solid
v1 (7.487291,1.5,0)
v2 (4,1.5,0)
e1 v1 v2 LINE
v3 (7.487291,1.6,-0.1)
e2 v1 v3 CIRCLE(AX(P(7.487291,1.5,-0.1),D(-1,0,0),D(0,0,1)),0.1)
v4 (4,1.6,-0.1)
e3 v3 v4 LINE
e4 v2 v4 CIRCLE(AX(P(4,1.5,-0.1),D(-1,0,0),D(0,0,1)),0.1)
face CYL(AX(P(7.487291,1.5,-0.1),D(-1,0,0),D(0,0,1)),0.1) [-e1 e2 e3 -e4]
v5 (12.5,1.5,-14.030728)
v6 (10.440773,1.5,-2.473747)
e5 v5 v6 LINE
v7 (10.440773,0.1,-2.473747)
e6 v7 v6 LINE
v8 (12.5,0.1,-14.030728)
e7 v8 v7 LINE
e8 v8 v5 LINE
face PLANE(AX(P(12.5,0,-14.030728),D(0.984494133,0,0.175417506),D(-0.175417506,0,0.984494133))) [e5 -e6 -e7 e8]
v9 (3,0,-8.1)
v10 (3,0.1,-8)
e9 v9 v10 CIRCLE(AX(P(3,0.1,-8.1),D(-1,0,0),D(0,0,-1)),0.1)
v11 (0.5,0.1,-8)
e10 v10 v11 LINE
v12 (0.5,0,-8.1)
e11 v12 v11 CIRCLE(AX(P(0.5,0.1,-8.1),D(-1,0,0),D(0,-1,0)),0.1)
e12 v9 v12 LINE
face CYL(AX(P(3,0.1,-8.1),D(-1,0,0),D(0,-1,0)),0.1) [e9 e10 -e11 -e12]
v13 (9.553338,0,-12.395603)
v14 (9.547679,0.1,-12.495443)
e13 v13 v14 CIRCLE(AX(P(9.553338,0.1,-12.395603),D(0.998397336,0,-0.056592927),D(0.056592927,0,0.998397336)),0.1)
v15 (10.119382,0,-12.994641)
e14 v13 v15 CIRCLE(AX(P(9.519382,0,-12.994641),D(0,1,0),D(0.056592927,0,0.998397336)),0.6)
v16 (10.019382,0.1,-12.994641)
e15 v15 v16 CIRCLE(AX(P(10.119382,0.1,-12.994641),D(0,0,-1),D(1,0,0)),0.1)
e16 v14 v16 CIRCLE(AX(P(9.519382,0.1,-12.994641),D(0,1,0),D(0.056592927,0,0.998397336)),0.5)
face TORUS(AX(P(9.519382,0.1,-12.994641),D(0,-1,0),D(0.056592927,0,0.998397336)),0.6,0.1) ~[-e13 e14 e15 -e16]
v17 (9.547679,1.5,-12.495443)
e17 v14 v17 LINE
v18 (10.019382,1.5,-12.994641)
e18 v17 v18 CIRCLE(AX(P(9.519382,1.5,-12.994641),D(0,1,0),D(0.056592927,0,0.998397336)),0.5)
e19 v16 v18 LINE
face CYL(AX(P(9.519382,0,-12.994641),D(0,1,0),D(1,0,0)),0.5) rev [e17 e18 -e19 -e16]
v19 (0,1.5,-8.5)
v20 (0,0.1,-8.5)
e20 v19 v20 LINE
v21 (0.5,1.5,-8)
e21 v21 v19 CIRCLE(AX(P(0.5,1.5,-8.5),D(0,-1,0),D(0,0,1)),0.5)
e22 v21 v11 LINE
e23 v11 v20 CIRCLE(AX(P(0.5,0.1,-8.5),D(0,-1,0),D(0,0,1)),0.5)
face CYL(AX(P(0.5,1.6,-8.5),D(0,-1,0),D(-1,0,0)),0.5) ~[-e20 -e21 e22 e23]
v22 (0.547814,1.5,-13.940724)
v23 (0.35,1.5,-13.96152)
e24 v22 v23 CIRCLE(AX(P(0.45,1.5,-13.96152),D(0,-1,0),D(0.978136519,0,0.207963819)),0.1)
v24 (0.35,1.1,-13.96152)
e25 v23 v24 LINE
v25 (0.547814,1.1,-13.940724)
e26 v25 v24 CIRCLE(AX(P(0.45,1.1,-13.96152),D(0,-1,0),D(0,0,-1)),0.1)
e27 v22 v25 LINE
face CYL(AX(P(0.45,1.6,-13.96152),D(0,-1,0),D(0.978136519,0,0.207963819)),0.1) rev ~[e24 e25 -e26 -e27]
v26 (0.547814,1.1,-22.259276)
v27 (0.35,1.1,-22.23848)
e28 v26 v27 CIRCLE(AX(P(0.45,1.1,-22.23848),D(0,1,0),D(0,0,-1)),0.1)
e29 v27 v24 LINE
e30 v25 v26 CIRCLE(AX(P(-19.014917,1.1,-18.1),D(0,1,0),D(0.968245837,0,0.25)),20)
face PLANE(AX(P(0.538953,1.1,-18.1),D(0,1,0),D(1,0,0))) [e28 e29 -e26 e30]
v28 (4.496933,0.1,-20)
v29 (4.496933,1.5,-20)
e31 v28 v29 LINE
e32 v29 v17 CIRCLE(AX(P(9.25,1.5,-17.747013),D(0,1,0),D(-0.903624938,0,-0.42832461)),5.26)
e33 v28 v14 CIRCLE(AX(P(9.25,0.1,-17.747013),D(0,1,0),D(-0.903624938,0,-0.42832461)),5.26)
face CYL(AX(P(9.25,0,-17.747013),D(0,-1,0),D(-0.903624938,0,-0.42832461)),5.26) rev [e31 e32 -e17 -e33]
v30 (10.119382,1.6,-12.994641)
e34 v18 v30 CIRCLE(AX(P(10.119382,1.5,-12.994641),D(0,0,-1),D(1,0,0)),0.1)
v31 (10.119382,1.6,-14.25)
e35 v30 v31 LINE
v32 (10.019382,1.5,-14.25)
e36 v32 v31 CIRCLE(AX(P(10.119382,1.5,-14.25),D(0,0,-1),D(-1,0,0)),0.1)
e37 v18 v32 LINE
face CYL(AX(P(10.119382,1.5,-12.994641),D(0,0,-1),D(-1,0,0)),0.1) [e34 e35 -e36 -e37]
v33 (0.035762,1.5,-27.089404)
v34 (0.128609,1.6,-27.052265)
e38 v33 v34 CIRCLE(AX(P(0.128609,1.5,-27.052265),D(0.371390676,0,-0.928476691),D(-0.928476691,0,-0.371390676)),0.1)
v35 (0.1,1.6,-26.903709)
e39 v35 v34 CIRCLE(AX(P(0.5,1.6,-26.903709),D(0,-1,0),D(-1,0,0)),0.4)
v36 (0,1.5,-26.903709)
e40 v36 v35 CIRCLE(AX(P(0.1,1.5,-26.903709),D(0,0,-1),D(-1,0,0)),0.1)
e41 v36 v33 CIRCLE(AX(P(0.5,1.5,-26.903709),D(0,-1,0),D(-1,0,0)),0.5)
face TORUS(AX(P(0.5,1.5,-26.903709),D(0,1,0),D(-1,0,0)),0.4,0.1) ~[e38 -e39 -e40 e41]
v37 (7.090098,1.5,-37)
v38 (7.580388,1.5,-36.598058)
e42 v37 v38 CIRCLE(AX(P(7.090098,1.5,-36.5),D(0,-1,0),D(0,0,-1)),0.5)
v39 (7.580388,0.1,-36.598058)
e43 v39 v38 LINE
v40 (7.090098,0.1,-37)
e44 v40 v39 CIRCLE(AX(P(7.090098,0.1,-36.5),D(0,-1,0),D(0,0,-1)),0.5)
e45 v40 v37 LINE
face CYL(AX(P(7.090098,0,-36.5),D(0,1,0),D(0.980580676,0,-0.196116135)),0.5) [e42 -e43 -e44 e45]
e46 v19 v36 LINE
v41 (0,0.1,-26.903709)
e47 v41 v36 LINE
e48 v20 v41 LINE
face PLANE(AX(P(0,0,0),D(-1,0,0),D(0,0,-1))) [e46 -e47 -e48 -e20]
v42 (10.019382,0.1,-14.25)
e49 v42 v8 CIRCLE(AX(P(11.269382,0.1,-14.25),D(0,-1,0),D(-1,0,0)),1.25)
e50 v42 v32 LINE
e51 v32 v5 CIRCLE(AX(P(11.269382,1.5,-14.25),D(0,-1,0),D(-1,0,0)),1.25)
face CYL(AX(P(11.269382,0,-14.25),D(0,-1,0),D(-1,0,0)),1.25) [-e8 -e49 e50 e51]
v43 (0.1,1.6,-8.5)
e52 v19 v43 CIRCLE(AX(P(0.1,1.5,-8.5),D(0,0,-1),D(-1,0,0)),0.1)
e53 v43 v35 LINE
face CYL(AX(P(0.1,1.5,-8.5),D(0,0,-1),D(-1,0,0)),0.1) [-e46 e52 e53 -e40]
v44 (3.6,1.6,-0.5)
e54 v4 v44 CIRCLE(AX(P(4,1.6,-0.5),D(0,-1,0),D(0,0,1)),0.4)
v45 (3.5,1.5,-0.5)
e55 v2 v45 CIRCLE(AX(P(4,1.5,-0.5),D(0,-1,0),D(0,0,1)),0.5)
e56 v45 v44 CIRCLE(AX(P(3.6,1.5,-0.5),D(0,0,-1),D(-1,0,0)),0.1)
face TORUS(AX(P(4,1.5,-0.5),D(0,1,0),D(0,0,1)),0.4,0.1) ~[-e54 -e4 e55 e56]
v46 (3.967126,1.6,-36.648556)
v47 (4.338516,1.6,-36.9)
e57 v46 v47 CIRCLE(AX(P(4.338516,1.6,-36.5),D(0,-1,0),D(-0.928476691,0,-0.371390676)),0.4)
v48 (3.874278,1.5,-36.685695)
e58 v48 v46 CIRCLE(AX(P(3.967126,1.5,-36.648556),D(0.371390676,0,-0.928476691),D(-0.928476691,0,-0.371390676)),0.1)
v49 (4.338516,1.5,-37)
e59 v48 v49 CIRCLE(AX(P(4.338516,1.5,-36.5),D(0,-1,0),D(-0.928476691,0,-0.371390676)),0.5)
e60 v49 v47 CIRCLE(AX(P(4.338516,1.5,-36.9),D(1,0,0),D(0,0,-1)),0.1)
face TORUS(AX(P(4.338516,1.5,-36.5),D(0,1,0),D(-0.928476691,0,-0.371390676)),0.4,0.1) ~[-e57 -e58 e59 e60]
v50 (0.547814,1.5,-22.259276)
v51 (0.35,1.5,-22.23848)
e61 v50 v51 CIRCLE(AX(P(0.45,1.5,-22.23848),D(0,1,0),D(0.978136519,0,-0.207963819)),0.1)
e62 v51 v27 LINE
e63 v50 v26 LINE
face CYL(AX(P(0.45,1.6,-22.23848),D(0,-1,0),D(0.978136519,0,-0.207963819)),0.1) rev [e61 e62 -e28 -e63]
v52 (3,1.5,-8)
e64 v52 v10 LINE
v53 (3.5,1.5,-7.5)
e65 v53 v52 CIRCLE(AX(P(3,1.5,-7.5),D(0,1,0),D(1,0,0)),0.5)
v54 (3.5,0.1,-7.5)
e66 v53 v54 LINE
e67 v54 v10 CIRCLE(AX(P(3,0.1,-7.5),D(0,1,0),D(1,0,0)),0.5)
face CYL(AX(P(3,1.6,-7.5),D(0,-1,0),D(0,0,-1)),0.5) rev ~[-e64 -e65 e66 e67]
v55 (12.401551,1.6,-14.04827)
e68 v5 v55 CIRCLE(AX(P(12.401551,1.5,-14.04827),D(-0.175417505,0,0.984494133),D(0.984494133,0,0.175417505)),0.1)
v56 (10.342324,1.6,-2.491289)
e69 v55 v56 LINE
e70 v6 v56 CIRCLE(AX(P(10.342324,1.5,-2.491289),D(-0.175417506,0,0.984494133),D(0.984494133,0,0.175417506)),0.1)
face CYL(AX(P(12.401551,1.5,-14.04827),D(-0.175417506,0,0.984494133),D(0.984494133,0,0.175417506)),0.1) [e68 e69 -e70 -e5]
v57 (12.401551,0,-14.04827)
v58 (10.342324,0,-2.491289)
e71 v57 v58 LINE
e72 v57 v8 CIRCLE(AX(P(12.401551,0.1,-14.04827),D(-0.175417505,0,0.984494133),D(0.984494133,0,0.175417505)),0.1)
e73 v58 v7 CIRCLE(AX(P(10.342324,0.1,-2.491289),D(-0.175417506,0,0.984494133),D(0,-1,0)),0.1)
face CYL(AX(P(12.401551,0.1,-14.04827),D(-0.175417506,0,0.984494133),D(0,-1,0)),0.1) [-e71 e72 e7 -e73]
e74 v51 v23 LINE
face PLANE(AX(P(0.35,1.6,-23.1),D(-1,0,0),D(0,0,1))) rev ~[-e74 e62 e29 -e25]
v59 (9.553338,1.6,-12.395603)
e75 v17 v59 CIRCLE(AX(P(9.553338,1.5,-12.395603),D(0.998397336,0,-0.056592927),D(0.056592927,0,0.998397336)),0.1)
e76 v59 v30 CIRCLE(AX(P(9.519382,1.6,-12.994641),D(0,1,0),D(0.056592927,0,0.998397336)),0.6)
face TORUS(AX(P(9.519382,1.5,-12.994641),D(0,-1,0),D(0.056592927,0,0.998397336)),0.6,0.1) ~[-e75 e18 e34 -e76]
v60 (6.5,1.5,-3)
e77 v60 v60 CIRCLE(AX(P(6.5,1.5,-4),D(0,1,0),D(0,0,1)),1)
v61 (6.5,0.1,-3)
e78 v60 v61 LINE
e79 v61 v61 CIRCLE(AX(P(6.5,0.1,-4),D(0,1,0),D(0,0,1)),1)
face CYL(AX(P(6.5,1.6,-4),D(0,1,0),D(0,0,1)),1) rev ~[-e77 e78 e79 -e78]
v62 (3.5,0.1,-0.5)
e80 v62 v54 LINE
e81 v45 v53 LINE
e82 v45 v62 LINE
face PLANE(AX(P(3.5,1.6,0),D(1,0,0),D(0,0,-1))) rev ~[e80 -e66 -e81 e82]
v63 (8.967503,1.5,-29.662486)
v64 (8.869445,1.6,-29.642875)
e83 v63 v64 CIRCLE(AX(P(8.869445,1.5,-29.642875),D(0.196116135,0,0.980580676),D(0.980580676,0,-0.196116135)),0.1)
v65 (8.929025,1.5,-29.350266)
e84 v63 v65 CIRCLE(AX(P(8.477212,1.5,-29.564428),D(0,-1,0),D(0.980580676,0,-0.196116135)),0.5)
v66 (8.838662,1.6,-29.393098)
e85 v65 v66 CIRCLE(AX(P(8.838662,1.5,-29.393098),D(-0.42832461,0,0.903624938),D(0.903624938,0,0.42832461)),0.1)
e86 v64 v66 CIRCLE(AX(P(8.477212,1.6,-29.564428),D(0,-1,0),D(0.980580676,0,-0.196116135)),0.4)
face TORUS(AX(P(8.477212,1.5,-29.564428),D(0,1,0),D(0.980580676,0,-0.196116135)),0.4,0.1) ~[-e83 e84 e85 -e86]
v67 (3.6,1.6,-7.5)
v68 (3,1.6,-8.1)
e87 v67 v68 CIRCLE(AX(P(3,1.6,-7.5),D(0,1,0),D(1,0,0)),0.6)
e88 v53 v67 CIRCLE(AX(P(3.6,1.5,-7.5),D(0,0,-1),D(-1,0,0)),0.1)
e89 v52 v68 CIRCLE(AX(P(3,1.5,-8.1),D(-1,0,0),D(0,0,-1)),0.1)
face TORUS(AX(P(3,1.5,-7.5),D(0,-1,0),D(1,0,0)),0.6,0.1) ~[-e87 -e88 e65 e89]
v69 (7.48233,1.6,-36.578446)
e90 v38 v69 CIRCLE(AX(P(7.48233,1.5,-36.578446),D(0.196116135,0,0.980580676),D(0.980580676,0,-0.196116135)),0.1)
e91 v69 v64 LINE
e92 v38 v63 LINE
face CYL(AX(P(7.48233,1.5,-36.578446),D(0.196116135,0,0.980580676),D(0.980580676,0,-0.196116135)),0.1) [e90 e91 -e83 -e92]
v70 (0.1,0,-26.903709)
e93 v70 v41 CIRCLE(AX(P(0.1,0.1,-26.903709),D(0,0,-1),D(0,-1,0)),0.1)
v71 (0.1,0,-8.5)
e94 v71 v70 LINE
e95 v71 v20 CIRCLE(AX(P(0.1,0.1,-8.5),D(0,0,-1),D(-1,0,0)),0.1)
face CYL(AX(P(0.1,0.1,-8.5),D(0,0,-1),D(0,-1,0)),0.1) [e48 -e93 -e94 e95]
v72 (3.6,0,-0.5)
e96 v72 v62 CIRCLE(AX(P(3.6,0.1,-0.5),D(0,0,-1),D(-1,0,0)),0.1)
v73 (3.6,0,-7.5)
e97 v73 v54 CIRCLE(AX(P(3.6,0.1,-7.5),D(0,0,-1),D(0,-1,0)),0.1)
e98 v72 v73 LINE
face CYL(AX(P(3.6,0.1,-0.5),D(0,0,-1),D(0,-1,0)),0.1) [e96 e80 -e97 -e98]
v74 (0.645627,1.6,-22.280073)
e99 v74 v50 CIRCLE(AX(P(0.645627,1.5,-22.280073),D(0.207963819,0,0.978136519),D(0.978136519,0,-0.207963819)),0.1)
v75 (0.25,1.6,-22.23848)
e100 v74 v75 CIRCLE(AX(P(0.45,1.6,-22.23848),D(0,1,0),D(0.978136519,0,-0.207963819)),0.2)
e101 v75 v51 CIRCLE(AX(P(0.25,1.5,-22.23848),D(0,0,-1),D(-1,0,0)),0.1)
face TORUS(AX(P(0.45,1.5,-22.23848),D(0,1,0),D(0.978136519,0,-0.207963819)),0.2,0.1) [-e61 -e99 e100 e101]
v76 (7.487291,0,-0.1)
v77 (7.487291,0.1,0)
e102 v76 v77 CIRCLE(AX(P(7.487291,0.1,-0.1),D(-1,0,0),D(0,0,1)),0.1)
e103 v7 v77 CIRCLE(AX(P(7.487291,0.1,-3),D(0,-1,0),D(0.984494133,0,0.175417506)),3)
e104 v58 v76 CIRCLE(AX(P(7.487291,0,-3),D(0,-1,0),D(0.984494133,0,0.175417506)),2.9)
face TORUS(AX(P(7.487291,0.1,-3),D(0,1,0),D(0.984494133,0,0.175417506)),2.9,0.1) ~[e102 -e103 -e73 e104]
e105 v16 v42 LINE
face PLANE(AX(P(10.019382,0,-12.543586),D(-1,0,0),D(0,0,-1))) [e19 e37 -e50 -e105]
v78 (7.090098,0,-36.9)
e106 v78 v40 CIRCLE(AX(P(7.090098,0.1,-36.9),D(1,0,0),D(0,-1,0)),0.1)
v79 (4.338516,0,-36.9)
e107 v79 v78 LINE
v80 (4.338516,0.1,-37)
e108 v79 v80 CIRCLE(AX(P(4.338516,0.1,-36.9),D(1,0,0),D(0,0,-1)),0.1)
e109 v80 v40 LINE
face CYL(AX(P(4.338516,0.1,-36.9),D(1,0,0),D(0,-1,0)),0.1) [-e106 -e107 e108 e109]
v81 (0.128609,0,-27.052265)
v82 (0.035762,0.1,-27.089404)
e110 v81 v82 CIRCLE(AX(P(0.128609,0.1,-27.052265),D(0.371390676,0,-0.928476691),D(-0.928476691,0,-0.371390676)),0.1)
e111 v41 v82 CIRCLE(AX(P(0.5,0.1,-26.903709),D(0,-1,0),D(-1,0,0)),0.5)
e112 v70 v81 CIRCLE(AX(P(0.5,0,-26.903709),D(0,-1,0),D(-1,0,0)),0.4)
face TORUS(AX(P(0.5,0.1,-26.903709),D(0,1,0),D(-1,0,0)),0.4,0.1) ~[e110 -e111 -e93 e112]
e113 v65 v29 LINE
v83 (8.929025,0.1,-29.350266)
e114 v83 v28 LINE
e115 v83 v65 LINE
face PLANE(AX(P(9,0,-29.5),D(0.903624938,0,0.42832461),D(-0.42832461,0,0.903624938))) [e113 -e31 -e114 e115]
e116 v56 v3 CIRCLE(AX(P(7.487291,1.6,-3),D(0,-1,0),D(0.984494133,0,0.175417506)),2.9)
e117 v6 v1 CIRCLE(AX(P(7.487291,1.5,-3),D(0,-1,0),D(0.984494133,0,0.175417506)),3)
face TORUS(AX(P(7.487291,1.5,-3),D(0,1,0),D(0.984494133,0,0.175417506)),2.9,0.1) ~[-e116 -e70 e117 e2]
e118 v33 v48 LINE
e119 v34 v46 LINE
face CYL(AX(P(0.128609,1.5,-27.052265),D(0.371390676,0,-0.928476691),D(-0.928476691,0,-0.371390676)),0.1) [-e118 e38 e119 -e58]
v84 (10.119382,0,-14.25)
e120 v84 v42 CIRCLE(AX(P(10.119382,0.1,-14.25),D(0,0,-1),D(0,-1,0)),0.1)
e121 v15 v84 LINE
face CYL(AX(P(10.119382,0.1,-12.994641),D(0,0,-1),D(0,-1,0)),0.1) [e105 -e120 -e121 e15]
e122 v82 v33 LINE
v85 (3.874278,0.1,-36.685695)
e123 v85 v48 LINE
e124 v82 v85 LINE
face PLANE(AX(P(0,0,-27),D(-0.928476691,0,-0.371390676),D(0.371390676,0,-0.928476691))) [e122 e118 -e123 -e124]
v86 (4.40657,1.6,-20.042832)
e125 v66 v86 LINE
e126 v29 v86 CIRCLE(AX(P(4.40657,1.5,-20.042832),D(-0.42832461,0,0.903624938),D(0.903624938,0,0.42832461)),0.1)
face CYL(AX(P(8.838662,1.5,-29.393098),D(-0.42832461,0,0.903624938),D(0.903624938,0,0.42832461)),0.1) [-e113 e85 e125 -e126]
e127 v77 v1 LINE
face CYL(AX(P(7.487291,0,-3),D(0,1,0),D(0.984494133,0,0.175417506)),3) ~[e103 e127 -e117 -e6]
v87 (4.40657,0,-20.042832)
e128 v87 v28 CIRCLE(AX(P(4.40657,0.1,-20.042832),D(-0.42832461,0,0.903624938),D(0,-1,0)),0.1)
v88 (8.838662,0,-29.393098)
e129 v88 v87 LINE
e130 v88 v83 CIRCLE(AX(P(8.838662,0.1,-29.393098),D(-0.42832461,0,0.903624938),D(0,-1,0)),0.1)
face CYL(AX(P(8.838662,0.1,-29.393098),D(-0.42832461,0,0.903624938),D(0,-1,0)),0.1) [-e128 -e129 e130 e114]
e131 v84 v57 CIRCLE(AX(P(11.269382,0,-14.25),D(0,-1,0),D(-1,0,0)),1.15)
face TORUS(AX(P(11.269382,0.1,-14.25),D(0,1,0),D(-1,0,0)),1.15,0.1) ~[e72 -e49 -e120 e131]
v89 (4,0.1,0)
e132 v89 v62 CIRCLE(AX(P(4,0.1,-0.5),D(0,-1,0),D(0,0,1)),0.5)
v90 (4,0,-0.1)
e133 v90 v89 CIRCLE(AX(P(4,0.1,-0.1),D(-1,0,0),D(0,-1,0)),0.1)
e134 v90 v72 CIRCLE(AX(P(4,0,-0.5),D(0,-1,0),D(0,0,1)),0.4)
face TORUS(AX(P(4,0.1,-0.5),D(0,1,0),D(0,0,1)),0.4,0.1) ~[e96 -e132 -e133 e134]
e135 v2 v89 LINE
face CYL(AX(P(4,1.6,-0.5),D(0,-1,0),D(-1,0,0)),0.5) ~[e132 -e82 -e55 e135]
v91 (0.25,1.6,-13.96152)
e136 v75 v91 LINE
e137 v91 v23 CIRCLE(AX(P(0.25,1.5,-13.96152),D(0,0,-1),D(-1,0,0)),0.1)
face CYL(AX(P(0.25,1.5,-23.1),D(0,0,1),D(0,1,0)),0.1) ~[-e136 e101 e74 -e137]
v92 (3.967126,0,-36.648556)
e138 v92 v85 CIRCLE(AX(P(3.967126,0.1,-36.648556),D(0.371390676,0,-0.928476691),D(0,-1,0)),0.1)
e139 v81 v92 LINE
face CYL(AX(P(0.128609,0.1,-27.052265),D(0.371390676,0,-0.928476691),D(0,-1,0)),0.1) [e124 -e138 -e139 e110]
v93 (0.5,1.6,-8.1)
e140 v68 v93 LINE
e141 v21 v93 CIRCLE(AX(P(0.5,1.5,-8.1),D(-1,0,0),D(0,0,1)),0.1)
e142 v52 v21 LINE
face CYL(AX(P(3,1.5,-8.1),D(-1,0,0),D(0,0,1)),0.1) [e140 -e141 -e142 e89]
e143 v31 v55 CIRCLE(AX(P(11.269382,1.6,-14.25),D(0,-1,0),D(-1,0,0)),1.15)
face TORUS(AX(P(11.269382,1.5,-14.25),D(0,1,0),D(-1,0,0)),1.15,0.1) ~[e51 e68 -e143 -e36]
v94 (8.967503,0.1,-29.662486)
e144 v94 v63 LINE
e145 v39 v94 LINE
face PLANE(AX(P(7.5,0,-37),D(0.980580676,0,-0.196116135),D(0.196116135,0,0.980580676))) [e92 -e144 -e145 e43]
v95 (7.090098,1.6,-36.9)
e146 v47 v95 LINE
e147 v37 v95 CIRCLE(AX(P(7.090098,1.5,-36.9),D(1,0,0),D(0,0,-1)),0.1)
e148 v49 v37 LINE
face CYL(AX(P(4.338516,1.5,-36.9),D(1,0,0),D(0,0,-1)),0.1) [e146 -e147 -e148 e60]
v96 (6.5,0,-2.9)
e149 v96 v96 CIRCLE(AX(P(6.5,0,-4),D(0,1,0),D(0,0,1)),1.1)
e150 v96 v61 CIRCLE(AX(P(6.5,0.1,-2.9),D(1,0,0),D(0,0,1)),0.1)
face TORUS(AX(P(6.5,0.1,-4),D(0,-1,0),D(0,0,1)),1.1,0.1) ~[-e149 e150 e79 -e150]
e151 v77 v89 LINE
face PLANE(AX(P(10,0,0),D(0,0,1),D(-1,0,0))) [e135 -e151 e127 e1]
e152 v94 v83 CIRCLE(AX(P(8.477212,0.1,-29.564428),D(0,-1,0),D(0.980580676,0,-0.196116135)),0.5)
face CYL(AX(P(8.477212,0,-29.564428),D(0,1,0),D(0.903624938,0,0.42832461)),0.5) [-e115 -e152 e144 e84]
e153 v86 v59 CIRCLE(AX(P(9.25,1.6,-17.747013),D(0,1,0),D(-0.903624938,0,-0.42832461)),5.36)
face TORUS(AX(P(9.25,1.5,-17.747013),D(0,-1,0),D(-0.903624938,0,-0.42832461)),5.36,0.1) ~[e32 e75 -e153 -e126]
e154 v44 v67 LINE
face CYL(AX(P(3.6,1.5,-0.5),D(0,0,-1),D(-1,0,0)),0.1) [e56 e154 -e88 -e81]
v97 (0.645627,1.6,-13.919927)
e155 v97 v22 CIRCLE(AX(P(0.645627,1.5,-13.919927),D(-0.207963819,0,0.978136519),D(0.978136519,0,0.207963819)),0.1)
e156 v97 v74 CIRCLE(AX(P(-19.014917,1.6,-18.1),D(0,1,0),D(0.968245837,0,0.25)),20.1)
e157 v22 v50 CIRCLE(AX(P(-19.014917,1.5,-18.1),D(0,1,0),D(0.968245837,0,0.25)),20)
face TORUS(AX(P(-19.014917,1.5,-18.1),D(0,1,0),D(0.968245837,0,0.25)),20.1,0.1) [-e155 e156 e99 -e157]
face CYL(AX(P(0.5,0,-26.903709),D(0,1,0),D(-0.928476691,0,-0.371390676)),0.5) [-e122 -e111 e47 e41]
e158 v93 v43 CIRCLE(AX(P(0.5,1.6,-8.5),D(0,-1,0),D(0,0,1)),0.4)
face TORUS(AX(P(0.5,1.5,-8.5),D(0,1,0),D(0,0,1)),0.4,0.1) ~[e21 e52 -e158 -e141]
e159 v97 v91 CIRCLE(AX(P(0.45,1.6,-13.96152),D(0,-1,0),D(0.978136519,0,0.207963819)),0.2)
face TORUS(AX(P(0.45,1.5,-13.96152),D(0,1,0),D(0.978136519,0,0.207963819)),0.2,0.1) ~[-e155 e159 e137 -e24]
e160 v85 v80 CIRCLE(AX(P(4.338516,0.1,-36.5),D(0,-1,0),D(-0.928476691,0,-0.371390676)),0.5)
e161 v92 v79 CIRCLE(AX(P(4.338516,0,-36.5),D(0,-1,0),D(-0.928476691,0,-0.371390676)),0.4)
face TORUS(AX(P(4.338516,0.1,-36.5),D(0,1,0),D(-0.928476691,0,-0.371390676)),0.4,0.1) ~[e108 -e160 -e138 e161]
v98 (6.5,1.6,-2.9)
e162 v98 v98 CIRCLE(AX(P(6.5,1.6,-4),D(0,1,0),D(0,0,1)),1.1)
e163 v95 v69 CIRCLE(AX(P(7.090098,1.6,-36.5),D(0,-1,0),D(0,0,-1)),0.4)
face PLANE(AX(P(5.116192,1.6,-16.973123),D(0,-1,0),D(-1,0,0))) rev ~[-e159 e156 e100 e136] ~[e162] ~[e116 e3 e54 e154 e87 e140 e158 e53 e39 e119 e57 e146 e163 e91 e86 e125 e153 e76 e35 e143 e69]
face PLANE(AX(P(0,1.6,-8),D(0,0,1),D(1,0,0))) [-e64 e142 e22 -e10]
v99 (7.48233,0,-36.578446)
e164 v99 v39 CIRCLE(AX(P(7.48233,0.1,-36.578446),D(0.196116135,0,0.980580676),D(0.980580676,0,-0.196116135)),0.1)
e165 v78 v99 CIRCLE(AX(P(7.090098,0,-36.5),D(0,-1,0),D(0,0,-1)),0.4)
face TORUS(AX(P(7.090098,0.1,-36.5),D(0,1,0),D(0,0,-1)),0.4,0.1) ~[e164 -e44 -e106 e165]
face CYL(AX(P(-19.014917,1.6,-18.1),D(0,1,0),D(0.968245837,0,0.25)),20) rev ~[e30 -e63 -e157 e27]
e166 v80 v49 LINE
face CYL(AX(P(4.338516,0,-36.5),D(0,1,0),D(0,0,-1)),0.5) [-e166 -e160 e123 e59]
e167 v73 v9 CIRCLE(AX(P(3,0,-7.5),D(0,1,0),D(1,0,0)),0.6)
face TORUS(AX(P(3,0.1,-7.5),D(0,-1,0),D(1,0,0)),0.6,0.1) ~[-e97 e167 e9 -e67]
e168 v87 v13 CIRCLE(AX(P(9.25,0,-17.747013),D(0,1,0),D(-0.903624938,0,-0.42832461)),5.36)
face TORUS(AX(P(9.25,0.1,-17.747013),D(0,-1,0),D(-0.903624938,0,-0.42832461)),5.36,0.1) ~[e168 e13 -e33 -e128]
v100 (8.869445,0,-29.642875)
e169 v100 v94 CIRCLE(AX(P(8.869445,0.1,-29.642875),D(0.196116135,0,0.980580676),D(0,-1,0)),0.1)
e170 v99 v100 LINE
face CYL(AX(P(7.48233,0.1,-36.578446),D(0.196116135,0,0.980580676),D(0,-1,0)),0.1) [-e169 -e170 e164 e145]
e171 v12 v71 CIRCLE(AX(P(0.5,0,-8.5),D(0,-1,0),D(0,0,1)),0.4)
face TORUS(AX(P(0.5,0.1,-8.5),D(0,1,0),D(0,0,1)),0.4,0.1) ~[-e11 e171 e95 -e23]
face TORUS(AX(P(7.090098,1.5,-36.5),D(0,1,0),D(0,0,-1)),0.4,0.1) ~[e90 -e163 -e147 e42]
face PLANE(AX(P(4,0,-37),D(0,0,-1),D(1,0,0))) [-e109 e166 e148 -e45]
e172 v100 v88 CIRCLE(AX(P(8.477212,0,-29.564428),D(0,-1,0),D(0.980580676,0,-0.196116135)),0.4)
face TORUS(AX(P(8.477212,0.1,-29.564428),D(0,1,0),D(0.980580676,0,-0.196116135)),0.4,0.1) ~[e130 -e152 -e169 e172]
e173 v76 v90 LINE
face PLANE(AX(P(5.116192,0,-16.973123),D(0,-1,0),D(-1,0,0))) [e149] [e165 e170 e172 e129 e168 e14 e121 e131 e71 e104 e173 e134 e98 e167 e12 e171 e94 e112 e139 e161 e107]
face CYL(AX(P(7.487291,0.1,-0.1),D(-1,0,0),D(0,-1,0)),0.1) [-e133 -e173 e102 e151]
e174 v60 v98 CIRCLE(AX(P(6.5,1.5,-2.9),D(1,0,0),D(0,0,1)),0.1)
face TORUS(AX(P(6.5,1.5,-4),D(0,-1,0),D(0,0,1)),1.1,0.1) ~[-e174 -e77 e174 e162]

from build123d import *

# Parameters (mm, degrees)
BOSS_EXTRUDE1_DEPTH = 1.6
FILLET1_R           = 3
SKETCH2_R           = 1
SKETCH2_W           = 3.5
SKETCH2_H           = 8
CUT_EXTRUDE1_DEPTH  = 40.093412924
FILLET2_R           = 0.5
FILLET3_R           = 0.1
CUT_EXTRUDE2_DEPTH  = 0.5
FILLET4_R           = 0.1


with BuildPart() as part:
    # Sketch1 → Boss-Extrude1 (new body)
    with BuildSketch(Plane(origin=(0, 0, 0), x_dir=(1, 0, 0), z_dir=(0, 1, 0))):
        with BuildLine():
            Line((0, 0), (0, 27))
            Line((0, 27), (4, 37))
            Line((4, 37), (7.5, 37))
            Line((7.5, 37), (9, 29.5))
            Line((9, 29.5), (4.496932826, 20))
            ThreePointArc((4.496932826, 20), (5.023066748, 14.616415918), (10.019382333, 12.543585716))
            Line((10.019382333, 12.543585716), (10.019382333, 14.25))
            ThreePointArc((10.019382333, 14.25), (11.379445762, 15.495144988), (12.5, 14.030728118))
            Line((12.5, 14.030728118), (10, 0))
            Line((10, 0), (0, 0))
        make_face()
    extrude(amount=BOSS_EXTRUDE1_DEPTH)

    # Fillet1
    fillet1_edges = [part.edges().sort_by_distance(p)[0] for p in [
        (10, 0.8, 0),
    ]]
    fillet(fillet1_edges, radius=FILLET1_R)

    # Sketch2 → Cut-Extrude1 (cut, through all)
    with BuildSketch(Plane(origin=(0, 1.6, 0), x_dir=(1, 0, 0), z_dir=(0, 1, 0))):
        with Locations(Location((6.5, 4, 0), (0, 0, 270))):
            Circle(SKETCH2_R)
        with Locations((1.75, 4)):
            Rectangle(SKETCH2_W, SKETCH2_H)
    extrude(amount=-CUT_EXTRUDE1_DEPTH, mode=Mode.SUBTRACT)

    # Fillet2
    fillet2_edges = [part.edges().sort_by_distance(p)[0] for p in [
        (0, 0.8, -27),
        (4, 0.8, -37),
        (7.5, 0.8, -37),
        (9, 0.8, -29.5),
        (10.019382333, 0.8, -12.543585716),
        (0, 0.8, -8),
        (3.5, 0.8, -8),
        (3.5, 0.8, 0),
    ]]
    fillet(fillet2_edges, radius=FILLET2_R)

    # Fillet3
    fillet3_edges = [part.edges().sort_by_distance(p)[0] for p in [
        (6.712978867, 0, -24.675132875),
        (10.019382333, 0, -13.622320616),
        (11.379445762, 1.6, -15.495144988),
        (11.379445762, 0, -15.495144988),
        (10.019382333, 1.6, -13.622320616),
        (6.712978867, 1.6, -24.675132875),
        (11.470386592, 0, -8.2522378),
        (11.470386592, 1.6, -8.2522378),
        (9.413588067, 0, -0.700135052),
        (9.413588067, 1.6, -0.700135052),
        (6.5, 0, -5),
        (6.5, 1.6, -5),
        (4.886261124, 0, -14.81011231),
        (4.886261124, 1.6, -14.81011231),
        (8.273945581, 0, -33.130272095),
        (8.273945581, 1.6, -33.130272095),
        (3.5, 0, -4),
        (1.75, 0, -8),
        (0, 0, -17.701854399),
        (1.955019895, 0, -31.887549737),
        (5.714307265, 0, -37),
        (5.743645392, 0, 0),
        (3.646446609, 0, -0.146446609),
        (0.146446609, 0, -8.146446609),
        (0.009021807, 0, -26.998262559),
        (4.058202076, 0, -36.914033615),
        (7.407092501, 0, -36.886671071),
        (8.973458158, 0, -29.503271002),
        (1.75, 1.6, -8),
        (3.5, 1.6, -4),
        (5.743645392, 1.6, 0),
        (5.714307265, 1.6, -37),
        (1.955019895, 1.6, -31.887549737),
        (0, 1.6, -17.701854399),
        (3.646446609, 1.6, -0.146446609),
        (0.146446609, 1.6, -8.146446609),
        (0.009021807, 1.6, -26.998262559),
        (4.058202076, 1.6, -36.914033615),
        (7.407092501, 1.6, -36.886671071),
        (8.973458158, 1.6, -29.503271002),
        (9.88280236, 0, -12.651237848),
        (9.88280236, 1.6, -12.651237848),
        (3.353553391, 1.6, -7.853553391),
        (3.353553391, 0, -7.853553391),
    ]]
    fillet(fillet3_edges, radius=FILLET3_R)

    # Sketch3 → Cut-Extrude2 (cut)
    with BuildSketch(Plane(origin=(0, 1.6, 0), x_dir=(1, 0, 0), z_dir=(0, 1, 0))):
        with BuildLine():
            Line((0.35, 23.1), (0.35, 13.1))
            ThreePointArc((0.35, 13.1), (0.985083269, 18.1), (0.35, 23.1))
        make_face()
    extrude(amount=-CUT_EXTRUDE2_DEPTH, mode=Mode.SUBTRACT)

    # Fillet4
    fillet4_edges = [part.edges().sort_by_distance(p)[0] for p in [
        (0.35, 1.35, -23.1),
        (0.35, 1.35, -13.1),
        (0.985083269, 1.6, -18.1),
        (0.35, 1.6, -18.1),
    ]]
    fillet(fillet4_edges, radius=FILLET4_R)


solid = part.part
